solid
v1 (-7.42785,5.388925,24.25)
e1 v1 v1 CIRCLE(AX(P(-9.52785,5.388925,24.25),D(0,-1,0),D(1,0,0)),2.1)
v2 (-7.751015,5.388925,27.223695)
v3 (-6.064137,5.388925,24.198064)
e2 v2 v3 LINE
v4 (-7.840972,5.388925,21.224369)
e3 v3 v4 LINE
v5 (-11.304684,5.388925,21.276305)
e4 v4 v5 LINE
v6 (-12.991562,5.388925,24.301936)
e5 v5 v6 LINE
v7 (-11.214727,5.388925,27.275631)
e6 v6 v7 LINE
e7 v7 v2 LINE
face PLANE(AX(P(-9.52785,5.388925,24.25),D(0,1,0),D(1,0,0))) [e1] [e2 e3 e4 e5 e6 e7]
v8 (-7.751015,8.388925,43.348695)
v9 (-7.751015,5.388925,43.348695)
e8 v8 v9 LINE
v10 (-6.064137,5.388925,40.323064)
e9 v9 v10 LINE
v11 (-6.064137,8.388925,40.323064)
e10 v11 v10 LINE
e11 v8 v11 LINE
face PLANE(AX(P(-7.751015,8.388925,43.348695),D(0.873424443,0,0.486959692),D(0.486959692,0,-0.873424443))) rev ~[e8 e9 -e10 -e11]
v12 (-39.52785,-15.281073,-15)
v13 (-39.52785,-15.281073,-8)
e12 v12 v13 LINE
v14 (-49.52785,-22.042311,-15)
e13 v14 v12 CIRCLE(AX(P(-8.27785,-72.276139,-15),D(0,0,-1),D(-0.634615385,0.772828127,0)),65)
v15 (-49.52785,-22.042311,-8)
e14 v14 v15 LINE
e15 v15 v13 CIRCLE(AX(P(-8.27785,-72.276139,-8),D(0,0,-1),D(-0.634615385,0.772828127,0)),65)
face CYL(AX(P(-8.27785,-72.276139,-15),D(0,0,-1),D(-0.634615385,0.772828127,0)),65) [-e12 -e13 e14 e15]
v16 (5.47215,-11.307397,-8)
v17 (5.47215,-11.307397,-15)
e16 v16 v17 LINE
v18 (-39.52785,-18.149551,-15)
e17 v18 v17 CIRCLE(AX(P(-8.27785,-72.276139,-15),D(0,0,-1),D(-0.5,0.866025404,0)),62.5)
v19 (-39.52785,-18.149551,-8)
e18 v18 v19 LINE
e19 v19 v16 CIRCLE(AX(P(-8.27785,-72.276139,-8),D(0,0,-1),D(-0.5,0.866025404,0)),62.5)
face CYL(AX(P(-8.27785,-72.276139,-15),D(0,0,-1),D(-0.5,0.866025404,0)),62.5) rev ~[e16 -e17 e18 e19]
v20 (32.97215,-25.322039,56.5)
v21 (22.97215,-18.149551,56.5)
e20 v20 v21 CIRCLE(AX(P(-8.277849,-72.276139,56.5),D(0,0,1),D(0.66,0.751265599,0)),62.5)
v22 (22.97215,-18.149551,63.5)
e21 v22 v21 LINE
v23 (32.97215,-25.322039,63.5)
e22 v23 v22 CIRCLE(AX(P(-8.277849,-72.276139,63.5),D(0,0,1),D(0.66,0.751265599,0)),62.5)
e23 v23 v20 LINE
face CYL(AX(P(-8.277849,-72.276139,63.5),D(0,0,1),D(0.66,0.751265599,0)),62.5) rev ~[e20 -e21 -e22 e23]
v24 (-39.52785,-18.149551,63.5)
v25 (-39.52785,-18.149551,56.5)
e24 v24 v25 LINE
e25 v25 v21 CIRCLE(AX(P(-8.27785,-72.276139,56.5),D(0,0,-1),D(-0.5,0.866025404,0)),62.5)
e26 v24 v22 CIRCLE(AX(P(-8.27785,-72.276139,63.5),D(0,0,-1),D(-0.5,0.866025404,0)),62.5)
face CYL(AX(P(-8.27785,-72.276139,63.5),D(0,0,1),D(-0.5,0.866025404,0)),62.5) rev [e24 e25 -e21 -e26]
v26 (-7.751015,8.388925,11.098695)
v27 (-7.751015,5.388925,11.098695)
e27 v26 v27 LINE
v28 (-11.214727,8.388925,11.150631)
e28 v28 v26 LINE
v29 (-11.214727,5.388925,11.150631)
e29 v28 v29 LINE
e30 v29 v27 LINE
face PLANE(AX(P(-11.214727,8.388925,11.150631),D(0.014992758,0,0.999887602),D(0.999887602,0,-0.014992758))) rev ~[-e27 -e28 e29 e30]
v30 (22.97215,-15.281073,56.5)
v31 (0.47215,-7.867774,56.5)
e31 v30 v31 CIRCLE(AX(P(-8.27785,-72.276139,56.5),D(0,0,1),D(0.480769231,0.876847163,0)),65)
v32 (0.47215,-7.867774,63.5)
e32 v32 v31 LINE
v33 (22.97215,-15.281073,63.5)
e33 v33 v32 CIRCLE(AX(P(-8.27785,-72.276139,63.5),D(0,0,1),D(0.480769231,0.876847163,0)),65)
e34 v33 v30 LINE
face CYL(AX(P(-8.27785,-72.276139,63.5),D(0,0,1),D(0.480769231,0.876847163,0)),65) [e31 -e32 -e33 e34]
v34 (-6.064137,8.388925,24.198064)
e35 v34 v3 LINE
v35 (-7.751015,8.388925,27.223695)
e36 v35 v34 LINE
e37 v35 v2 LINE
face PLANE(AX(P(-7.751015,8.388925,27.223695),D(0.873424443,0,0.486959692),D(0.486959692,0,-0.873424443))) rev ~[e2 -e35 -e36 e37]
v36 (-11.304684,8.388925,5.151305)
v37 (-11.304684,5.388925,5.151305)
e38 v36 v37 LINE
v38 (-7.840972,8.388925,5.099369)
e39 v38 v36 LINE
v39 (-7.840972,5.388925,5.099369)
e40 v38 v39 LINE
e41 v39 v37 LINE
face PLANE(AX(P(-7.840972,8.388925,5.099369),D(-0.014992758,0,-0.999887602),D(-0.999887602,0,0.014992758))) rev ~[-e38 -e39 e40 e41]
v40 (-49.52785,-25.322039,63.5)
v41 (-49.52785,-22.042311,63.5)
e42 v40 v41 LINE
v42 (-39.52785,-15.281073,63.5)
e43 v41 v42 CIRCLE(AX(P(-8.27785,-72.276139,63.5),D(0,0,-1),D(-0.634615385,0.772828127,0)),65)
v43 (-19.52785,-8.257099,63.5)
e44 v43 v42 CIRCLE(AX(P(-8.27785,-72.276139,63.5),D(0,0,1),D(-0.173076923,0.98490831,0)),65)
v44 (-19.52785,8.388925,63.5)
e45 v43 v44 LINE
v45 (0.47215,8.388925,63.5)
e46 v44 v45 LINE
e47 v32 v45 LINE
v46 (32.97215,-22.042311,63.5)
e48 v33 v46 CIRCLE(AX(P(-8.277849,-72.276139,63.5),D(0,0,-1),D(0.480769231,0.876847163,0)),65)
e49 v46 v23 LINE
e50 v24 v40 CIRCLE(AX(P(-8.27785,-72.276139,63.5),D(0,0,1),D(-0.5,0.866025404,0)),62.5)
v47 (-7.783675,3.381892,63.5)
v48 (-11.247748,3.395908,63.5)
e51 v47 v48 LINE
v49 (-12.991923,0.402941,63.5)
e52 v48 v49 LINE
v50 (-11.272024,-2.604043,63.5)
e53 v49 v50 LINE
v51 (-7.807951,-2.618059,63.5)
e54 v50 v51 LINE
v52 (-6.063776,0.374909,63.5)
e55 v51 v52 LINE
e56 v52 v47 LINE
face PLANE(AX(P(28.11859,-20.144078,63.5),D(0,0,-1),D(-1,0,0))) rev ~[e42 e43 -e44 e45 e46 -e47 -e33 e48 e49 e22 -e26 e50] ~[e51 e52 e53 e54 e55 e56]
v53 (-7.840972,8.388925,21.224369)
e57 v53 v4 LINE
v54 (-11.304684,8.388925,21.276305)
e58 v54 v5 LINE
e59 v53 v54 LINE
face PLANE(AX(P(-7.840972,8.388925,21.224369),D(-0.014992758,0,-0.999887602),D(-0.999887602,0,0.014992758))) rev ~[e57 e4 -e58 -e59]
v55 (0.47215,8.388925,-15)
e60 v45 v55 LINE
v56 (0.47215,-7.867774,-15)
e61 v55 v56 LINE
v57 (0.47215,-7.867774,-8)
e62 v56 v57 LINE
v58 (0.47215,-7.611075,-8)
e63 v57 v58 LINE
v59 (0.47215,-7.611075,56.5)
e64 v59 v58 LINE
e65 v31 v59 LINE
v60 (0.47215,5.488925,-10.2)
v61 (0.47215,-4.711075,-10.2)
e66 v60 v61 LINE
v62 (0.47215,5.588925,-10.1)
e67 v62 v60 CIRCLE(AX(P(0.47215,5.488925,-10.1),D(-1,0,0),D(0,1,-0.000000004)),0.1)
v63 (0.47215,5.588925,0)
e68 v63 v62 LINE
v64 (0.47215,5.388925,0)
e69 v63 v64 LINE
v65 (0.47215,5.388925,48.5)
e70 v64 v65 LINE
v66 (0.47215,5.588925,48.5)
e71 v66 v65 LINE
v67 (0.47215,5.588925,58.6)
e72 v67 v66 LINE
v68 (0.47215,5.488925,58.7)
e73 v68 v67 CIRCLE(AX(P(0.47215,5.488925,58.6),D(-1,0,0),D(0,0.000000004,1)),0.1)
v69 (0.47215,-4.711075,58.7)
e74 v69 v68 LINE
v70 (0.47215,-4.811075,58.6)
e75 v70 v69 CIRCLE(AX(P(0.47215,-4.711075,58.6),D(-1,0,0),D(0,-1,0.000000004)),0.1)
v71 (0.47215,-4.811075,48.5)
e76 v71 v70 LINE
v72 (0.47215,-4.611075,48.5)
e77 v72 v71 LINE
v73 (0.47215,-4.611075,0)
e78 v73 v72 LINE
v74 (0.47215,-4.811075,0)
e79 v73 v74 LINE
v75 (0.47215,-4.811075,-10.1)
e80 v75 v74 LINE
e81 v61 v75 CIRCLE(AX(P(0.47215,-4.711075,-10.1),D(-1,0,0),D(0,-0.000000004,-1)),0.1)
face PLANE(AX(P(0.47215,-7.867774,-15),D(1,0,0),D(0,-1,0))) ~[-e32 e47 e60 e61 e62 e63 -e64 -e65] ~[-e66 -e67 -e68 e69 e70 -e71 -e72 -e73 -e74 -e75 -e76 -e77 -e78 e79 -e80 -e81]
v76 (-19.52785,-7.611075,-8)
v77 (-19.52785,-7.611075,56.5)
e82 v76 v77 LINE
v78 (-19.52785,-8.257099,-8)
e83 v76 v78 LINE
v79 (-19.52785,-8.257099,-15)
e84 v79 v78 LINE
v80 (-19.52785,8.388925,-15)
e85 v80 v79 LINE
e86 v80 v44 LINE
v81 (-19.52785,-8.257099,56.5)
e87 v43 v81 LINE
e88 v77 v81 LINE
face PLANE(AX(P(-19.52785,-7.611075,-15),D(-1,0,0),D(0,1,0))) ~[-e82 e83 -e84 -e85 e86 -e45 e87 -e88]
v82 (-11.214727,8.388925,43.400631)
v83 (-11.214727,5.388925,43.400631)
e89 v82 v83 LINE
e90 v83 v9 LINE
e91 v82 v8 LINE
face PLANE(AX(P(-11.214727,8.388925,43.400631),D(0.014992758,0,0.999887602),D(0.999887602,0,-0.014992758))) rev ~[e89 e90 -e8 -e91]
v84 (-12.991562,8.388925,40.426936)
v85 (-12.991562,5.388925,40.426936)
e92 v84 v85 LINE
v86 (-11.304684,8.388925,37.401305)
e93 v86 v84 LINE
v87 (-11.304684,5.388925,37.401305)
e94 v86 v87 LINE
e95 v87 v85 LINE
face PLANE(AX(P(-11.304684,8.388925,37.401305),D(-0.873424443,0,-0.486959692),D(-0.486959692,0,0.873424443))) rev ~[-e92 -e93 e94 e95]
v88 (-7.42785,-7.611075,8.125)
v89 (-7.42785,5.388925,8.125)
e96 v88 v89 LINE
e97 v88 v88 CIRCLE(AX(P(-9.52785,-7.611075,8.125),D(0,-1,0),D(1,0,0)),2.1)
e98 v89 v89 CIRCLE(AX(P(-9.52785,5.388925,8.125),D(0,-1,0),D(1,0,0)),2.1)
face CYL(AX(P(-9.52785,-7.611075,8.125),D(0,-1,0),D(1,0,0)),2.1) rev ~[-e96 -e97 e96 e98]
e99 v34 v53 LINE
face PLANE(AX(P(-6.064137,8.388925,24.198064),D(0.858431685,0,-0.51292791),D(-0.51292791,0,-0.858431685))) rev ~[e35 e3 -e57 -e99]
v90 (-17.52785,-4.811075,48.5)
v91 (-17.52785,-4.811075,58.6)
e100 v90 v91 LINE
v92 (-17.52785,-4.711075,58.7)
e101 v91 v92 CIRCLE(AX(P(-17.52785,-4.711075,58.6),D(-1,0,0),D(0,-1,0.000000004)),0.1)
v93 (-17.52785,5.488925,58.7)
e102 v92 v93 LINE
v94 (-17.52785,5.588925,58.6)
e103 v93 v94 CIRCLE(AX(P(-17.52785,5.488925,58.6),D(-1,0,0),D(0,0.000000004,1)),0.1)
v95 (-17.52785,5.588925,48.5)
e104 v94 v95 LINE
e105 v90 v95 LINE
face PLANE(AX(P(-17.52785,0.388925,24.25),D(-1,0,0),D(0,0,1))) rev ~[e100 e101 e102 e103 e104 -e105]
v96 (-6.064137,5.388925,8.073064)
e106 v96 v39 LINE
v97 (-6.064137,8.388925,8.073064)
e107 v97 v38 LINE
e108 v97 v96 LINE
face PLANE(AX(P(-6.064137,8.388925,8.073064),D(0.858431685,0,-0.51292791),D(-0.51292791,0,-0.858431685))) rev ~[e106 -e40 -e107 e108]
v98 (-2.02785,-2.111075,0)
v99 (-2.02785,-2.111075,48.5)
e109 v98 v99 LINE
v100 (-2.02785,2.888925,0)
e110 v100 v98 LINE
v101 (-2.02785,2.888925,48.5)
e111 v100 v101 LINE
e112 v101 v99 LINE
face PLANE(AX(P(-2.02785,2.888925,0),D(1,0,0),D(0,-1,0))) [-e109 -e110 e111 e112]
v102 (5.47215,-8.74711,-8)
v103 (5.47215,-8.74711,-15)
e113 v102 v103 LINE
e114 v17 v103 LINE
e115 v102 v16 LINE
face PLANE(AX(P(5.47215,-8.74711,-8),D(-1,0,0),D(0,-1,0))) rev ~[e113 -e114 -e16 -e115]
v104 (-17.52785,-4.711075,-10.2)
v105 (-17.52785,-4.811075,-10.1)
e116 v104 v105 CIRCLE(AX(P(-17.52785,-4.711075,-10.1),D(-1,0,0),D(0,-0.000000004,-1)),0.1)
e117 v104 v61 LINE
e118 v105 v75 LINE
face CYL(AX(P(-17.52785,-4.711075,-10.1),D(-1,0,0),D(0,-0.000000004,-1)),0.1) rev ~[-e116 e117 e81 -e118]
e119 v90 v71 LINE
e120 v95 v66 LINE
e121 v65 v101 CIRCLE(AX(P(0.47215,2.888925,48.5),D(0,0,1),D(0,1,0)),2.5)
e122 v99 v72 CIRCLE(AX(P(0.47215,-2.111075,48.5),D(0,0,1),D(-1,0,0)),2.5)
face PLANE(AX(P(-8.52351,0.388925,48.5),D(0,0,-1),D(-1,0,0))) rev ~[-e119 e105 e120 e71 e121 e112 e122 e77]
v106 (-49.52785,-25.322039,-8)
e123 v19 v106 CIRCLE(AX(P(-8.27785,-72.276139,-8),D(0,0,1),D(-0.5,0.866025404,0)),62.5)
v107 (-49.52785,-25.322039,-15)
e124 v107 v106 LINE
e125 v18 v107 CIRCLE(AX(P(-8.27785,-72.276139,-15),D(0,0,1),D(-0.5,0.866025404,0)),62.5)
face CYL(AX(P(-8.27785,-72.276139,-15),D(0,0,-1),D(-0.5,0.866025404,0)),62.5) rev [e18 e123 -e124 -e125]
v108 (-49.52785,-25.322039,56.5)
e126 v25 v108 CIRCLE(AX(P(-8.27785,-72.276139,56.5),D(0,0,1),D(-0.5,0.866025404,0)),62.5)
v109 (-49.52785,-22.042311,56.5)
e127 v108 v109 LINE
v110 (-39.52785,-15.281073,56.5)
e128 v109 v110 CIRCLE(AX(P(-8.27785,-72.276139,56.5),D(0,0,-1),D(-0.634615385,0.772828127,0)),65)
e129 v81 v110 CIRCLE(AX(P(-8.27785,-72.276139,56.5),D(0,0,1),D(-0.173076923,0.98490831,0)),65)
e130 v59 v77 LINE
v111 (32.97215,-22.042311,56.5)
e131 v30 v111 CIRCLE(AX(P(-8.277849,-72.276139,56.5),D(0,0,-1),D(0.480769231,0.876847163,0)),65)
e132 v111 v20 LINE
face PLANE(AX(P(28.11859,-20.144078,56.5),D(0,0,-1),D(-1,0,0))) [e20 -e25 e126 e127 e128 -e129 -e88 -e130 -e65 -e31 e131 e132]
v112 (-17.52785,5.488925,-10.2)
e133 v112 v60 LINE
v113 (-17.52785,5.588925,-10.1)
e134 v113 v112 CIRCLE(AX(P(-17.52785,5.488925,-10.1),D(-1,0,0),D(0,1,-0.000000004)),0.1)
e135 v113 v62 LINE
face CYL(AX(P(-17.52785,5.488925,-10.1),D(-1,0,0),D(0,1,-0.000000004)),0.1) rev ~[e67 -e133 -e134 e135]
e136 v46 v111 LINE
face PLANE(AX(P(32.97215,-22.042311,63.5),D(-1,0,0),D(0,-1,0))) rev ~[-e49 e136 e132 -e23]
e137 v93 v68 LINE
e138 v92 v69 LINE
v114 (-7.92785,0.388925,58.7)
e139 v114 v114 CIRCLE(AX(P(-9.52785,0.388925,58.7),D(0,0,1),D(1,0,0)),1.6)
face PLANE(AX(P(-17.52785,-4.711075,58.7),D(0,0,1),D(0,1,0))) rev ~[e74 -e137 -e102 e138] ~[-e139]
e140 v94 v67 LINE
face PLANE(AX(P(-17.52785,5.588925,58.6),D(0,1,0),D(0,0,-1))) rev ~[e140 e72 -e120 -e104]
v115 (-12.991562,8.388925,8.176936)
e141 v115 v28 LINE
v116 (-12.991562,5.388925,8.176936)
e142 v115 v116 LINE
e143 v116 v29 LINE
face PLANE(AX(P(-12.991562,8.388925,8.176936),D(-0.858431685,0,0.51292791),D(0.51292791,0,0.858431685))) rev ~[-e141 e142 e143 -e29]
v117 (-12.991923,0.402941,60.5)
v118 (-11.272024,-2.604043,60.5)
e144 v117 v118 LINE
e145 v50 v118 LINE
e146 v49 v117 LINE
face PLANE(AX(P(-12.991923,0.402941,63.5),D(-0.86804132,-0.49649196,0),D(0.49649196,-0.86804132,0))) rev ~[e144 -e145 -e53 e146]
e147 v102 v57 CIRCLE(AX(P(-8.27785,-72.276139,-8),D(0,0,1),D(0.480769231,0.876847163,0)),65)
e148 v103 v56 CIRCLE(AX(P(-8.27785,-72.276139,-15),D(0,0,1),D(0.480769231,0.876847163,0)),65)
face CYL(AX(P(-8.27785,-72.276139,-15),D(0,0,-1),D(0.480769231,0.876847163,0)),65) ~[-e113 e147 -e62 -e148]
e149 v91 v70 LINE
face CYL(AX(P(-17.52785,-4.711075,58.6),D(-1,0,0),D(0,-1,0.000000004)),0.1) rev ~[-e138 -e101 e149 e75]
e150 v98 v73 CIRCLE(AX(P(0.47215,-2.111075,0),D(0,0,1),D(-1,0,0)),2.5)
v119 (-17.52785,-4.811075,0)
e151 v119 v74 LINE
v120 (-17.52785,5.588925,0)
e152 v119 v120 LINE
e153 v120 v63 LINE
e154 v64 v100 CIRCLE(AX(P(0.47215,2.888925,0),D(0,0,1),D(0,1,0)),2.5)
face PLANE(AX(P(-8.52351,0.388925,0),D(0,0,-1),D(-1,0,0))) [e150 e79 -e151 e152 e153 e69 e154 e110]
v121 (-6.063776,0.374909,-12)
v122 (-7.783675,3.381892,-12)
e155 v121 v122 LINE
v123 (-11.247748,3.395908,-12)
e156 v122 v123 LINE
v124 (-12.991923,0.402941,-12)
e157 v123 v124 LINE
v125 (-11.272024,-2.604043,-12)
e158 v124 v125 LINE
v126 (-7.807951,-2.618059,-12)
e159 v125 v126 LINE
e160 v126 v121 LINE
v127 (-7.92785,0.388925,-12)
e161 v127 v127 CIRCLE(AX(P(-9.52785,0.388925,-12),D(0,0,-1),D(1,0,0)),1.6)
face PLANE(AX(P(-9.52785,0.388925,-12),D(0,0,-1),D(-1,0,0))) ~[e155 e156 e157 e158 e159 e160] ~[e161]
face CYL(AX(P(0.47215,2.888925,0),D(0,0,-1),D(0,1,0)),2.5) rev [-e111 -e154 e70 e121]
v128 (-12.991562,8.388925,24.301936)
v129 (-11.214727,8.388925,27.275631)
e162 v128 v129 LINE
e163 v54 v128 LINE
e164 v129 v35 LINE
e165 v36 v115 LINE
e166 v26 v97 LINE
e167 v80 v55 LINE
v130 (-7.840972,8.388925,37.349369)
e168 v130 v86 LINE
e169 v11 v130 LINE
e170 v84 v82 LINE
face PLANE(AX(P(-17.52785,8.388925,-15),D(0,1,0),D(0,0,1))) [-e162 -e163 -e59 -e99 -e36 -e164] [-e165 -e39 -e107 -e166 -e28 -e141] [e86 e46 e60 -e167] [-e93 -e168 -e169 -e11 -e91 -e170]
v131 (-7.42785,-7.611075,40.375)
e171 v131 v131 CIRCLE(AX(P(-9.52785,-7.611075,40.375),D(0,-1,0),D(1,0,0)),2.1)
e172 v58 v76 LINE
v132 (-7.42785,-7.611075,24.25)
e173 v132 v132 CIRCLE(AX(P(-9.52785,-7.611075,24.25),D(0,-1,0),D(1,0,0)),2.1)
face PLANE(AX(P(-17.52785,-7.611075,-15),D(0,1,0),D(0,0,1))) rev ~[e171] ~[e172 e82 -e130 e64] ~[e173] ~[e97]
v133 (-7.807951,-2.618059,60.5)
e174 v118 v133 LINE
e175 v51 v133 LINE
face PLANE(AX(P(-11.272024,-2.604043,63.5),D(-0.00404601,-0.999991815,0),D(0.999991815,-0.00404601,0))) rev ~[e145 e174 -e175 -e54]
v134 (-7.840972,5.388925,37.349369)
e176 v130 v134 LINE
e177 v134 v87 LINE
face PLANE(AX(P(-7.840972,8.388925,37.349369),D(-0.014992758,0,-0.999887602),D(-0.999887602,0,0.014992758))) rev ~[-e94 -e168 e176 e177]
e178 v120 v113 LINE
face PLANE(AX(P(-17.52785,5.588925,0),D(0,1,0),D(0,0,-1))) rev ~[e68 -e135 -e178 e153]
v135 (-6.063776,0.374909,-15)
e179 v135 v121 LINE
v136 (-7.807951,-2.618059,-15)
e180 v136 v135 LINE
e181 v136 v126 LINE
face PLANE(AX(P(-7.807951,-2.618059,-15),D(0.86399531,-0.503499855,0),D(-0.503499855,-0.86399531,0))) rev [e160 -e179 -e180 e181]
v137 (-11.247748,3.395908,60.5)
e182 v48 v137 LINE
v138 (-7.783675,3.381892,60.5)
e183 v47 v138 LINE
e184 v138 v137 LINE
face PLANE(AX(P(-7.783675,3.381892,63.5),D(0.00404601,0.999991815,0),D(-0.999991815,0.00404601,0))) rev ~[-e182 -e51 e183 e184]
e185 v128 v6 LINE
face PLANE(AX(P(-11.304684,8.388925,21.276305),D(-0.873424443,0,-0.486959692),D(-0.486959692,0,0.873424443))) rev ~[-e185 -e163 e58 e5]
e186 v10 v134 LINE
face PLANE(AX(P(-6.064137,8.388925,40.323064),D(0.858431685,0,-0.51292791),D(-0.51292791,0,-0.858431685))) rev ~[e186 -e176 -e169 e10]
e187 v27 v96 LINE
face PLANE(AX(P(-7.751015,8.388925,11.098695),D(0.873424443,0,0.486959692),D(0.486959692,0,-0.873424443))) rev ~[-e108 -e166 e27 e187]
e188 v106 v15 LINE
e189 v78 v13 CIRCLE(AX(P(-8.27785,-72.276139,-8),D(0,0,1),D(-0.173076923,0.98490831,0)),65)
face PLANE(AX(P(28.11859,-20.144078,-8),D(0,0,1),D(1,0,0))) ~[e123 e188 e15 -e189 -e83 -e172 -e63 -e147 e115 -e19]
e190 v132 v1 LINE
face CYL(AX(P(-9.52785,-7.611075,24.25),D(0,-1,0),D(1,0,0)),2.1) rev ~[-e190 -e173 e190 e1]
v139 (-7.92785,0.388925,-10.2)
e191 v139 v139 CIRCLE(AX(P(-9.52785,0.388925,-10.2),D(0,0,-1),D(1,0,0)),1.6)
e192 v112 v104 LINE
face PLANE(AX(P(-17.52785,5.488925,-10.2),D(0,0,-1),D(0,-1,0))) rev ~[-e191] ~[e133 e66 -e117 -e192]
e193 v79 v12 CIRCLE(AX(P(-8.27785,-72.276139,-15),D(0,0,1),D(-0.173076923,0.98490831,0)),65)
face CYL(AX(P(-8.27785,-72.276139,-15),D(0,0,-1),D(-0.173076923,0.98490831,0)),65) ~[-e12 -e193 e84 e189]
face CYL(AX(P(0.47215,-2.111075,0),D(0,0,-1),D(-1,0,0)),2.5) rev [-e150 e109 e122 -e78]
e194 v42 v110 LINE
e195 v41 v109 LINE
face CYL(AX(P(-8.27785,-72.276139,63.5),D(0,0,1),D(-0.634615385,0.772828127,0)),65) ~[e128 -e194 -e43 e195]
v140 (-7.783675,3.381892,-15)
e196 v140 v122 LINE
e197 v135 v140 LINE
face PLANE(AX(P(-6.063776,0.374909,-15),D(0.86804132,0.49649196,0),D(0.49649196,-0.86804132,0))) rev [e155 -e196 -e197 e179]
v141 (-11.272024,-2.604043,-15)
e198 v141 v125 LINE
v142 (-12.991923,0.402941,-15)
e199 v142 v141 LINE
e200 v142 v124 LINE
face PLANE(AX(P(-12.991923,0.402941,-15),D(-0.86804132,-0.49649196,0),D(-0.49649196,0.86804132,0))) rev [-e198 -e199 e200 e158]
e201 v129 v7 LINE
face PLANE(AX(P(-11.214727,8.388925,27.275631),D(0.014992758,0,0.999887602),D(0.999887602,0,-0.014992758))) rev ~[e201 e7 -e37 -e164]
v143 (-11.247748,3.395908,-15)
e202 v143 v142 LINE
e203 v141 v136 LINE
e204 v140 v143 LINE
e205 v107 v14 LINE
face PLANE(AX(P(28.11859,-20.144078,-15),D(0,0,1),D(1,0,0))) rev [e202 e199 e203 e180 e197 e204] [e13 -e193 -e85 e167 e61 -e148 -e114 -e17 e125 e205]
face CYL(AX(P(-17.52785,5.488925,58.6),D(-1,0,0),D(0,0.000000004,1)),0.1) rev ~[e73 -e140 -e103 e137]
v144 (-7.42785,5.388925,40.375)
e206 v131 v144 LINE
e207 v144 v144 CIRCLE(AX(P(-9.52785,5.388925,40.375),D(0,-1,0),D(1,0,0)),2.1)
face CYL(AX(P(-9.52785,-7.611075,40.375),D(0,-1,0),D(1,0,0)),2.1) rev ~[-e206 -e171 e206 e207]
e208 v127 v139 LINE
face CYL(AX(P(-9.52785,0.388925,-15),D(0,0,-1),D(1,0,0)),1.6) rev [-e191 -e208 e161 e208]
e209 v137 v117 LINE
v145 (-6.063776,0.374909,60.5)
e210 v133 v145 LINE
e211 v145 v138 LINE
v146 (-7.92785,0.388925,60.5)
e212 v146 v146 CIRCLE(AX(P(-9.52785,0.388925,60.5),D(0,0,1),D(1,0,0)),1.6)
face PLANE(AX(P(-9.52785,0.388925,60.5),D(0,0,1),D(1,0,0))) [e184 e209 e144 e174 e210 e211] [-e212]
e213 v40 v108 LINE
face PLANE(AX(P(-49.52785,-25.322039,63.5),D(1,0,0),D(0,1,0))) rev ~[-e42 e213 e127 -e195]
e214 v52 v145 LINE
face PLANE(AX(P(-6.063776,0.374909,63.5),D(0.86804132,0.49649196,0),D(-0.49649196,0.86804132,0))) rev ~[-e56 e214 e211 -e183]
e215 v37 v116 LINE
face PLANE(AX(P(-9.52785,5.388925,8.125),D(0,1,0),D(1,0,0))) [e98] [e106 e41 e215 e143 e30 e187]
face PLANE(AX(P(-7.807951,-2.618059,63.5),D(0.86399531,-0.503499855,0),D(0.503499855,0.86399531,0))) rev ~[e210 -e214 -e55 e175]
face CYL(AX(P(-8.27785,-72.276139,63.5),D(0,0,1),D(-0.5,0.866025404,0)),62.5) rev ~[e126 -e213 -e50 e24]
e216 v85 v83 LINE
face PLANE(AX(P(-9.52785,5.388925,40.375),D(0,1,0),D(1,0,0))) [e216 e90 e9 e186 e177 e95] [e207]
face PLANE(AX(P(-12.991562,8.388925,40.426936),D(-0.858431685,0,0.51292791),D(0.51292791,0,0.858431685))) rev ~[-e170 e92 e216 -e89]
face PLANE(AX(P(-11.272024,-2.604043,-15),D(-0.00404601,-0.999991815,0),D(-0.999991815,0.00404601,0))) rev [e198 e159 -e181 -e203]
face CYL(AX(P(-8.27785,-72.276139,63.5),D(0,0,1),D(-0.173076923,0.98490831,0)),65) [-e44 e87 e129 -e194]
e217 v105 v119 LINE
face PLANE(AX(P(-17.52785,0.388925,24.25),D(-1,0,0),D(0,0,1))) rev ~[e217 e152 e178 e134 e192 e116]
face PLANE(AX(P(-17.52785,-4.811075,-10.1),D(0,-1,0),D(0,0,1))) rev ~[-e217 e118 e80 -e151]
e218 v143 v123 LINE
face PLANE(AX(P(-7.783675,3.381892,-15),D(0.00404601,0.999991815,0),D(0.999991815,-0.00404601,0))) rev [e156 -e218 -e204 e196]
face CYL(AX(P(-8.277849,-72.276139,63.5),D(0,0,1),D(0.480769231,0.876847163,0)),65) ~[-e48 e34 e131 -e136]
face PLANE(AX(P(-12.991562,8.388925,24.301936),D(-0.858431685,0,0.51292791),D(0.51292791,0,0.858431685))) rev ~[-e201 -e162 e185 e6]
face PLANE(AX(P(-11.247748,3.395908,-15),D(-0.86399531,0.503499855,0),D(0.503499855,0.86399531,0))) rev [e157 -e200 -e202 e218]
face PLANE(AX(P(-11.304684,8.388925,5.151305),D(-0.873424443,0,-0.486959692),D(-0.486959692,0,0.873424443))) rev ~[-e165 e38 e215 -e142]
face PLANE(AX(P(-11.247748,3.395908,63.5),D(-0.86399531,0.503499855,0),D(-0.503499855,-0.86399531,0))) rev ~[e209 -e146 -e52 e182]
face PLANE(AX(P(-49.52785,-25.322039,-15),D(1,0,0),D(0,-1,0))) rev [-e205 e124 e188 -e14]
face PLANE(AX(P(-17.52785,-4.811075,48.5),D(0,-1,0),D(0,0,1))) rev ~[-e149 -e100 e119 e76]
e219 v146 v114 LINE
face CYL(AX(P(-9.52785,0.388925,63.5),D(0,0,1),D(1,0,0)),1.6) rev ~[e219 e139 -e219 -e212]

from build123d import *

# Parameters (mm, degrees)
BOSS_EXTRUDE2_DEPTH = 48.5
BOSS_EXTRUDE3_DEPTH = 18
SKETCH3_R           = 1.6
CUT_EXTRUDE1_DEPTH  = 8
CUT_EXTRUDE3_DEPTH  = 3
SKETCH5_W           = 78.5
SKETCH5_H           = 16
BOSS_EXTRUDE4_DEPTH = 2
BOSS_EXTRUDE5_DEPTH = 7
BOSS_EXTRUDE6_DEPTH = 7
SKETCH10_R          = 2.1
CUT_EXTRUDE4_DEPTH  = 17
CUT_EXTRUDE5_DEPTH  = 3
CUT_EXTRUDE6_DEPTH  = 8


with BuildPart() as part:
    # Sketch1 → Boss-Extrude2 (new body)
    with BuildSketch(Plane.XY):
        with BuildLine():
            ThreePointArc((-2.027849528, -2.111075236), (-1.295616481, -3.878842189), (0.472150472, -4.611075236))
            Line((0.472150472, -4.611075236), (0.472150472, -7.611075236))
            Line((0.472150472, -7.611075236), (-17.527849528, -7.611075236))
            Line((-17.527849528, -7.611075236), (-17.527849528, 8.388924764))
            Line((-17.527849528, 8.388924764), (0.472150472, 8.388924764))
            Line((0.472150472, 8.388924764), (0.472150472, 5.388924764))
            ThreePointArc((0.472150472, 5.388924764), (-1.295616481, 4.656691717), (-2.027849528, 2.888924764))
            Line((-2.027849528, 2.888924764), (-2.027849528, -2.111075236))
        make_face()
    extrude(amount=BOSS_EXTRUDE2_DEPTH)

    # Sketch2 → Boss-Extrude3 (add)
    with BuildSketch(Plane.ZY.offset(17.527849528)):
        with BuildLine():
            Line((48.5, 8.388924764), (62.5, 8.388924764))
            Line((62.5, 8.388924764), (63.5, 8.388924764))
            Line((63.5, 8.388924764), (63.5, 7.388924764))
            Line((63.5, 7.388924764), (63.5, -6.611075236))
            Line((63.5, -6.611075236), (63.5, -7.611075236))
            Line((63.5, -7.611075236), (62.5, -7.611075236))
            Line((62.5, -7.611075236), (48.5, -7.611075236))
            Line((48.5, -7.611075236), (48.5, -4.811075236))
            Line((48.5, -4.811075236), (58.6, -4.811075236))
            ThreePointArc((58.6, -4.811075236), (58.670710678, -4.781785914), (58.7, -4.711075236))
            Line((58.7, -4.711075236), (58.7, 5.488924764))
            ThreePointArc((58.7, 5.488924764), (58.670710678, 5.559635442), (58.6, 5.588924764))
            Line((58.6, 5.588924764), (48.5, 5.588924764))
            Line((48.5, 5.588924764), (48.5, 8.388924764))
        make_face()
        with BuildLine():
            Line((0, -4.811075236), (0, -7.611075236))
            Line((0, -7.611075236), (-14, -7.611075236))
            Line((-14, -7.611075236), (-15, -7.611075236))
            Line((-15, -7.611075236), (-15, -6.611075236))
            Line((-15, -6.611075236), (-15, 7.388924764))
            Line((-15, 7.388924764), (-15, 8.388924764))
            Line((-15, 8.388924764), (-14, 8.388924764))
            Line((-14, 8.388924764), (0, 8.388924764))
            Line((0, 8.388924764), (0, 5.588924764))
            Line((0, 5.588924764), (-10.1, 5.588924764))
            ThreePointArc((-10.1, 5.588924764), (-10.170710678, 5.559635442), (-10.2, 5.488924764))
            Line((-10.2, 5.488924764), (-10.2, -4.711075236))
            ThreePointArc((-10.2, -4.711075236), (-10.170710678, -4.781785914), (-10.1, -4.811075236))
            Line((-10.1, -4.811075236), (0, -4.811075236))
        make_face()
    extrude(amount=-BOSS_EXTRUDE3_DEPTH)

    # Sketch3 → Cut-Extrude1 (cut)
    with BuildSketch(Plane.XY.offset(63.5)):
        with Locations((-9.527849528, 0.388924764)):
            Circle(SKETCH3_R)
    cut_extrude1 = extrude(amount=-CUT_EXTRUDE1_DEPTH, mode=Mode.SUBTRACT)

    # Mirror1: Cut-Extrude1 across plane
    add(cut_extrude1.mirror(Plane.XY.offset(24.25)), mode=Mode.SUBTRACT)

    # Sketch4 → Cut-Extrude3 (cut)
    with BuildSketch(Plane.XY.offset(63.5)):
        Polygon((-7.807950928, -2.618058576), (-6.063776267, 0.374908974), (-7.783674867, 3.381892314), (-11.247748128, 3.395908104), (-12.991922789, 0.402940554), (-11.272024189, -2.604042786), align=None)
    cut_extrude3 = extrude(amount=-CUT_EXTRUDE3_DEPTH, mode=Mode.SUBTRACT)

    # Mirror2: Cut-Extrude3 across plane
    add(cut_extrude3.mirror(Plane.XY.offset(24.25)), mode=Mode.SUBTRACT)

    # Sketch5 → Boss-Extrude4 (add)
    with BuildSketch(Plane.ZY.offset(17.527849528)):
        with Locations((24.25, 0.388924764)):
            Rectangle(SKETCH5_W, SKETCH5_H)
    extrude(amount=BOSS_EXTRUDE4_DEPTH)

    # Sketch6 → Boss-Extrude5 (add)
    with BuildSketch(Plane.XY.offset(63.5)):
        with BuildLine():
            Line((-19.527849528, -7.611075236), (-19.527849528, -8.257098609))
            ThreePointArc((-19.527849528, -8.257098609), (-29.816107458, -10.948302934), (-39.527849528, -15.28107317))
            Line((-39.527849528, -15.28107317), (-39.527849528, -18.149551009))
            ThreePointArc((-39.527849528, -18.149551009), (-8.277849528, -9.776138745), (22.972150472, -18.149551009))
            Line((22.972150472, -18.149551009), (22.972150472, -15.28107317))
            ThreePointArc((22.972150472, -15.28107317), (12.062731895, -10.540729559), (0.472150472, -7.867773606))
            Line((0.472150472, -7.867773606), (0.472150472, -7.611075236))
            Line((0.472150472, -7.611075236), (-19.527849528, -7.611075236))
        make_face()
    boss_extrude5 = extrude(amount=-BOSS_EXTRUDE5_DEPTH)

    # Mirror3: Boss-Extrude5 across plane
    add(boss_extrude5.mirror(Plane.XY.offset(24.25)))

    # Sketch7 → Boss-Extrude6 (add)
    with BuildSketch(Plane.XY.offset(63.5)):
        with BuildLine():
            Line((22.972150472, -18.149551009), (22.972150472, -15.28107317))
            ThreePointArc((22.972150472, -15.28107317), (28.129444831, -18.429050454), (32.972150472, -22.042310502))
            Line((32.972150472, -22.042310502), (32.972150472, -25.322038818))
            ThreePointArc((32.972150472, -25.322038818), (28.149113636, -21.489069971), (22.972150472, -18.149551009))
        make_face()
        with BuildLine():
            Line((-39.527849528, -15.28107317), (-39.527849528, -18.149551009))
            ThreePointArc((-39.527849528, -18.149551009), (-44.704812692, -21.489069971), (-49.527849528, -25.322038818))
            Line((-49.527849528, -25.322038818), (-49.527849528, -22.042310502))
            ThreePointArc((-49.527849528, -22.042310502), (-44.685143887, -18.429050454), (-39.527849528, -15.28107317))
        make_face()
    boss_extrude6 = extrude(amount=-BOSS_EXTRUDE6_DEPTH)

    # Mirror4: Boss-Extrude6 across plane
    add(boss_extrude6.mirror(Plane.XY.offset(24.25)))

    # Sketch10 → Cut-Extrude4 (cut, through all)
    with BuildSketch(Plane.XZ.offset(7.611075236)):
        with Locations((-9.527849528, 40.375)):
            Circle(SKETCH10_R)
        with Locations((-9.527849528, 8.125)):
            Circle(SKETCH10_R)
        with Locations((-9.527849528, 24.25)):
            Circle(SKETCH10_R)
    extrude(amount=-CUT_EXTRUDE4_DEPTH, mode=Mode.SUBTRACT)

    # Sketch11 → Cut-Extrude5 (cut)
    with BuildSketch(Plane(origin=(0, 8.388924764, 0), x_dir=(1, 0, 0), z_dir=(0, 1, 0))):
        Polygon((-7.751015125, -27.223694588), (-6.06413727, -24.198063563), (-7.840971673, -21.224368975), (-11.304683931, -21.276305412), (-12.991561786, -24.301936437), (-11.214727383, -27.275631025), align=None)
        Polygon((-7.751015125, -11.098694588), (-6.06413727, -8.073063563), (-7.840971673, -5.099368975), (-11.304683931, -5.151305412), (-12.991561786, -8.176936437), (-11.214727383, -11.150631025), align=None)
        Polygon((-7.751015125, -43.348694588), (-6.06413727, -40.323063563), (-7.840971673, -37.349368975), (-11.304683931, -37.401305412), (-12.991561786, -40.426936437), (-11.214727383, -43.400631025), align=None)
    extrude(amount=-CUT_EXTRUDE5_DEPTH, mode=Mode.SUBTRACT)

    # Sketch12 → Cut-Extrude6 (cut, through all)
    with BuildSketch(Plane.XY.offset(-8)):
        with BuildLine():
            Line((5.472150472, -8.747109948), (5.472150472, -11.307396754))
            ThreePointArc((5.472150472, -11.307396754), (20.100884553, -16.590436344), (32.972150472, -25.322038818))
            Line((32.972150472, -25.322038818), (32.972150472, -22.042310502))
            ThreePointArc((32.972150472, -22.042310502), (20.014209242, -13.756403523), (5.472150472, -8.747109948))
        make_face()
    extrude(amount=-CUT_EXTRUDE6_DEPTH, mode=Mode.SUBTRACT)


solid = part.part
